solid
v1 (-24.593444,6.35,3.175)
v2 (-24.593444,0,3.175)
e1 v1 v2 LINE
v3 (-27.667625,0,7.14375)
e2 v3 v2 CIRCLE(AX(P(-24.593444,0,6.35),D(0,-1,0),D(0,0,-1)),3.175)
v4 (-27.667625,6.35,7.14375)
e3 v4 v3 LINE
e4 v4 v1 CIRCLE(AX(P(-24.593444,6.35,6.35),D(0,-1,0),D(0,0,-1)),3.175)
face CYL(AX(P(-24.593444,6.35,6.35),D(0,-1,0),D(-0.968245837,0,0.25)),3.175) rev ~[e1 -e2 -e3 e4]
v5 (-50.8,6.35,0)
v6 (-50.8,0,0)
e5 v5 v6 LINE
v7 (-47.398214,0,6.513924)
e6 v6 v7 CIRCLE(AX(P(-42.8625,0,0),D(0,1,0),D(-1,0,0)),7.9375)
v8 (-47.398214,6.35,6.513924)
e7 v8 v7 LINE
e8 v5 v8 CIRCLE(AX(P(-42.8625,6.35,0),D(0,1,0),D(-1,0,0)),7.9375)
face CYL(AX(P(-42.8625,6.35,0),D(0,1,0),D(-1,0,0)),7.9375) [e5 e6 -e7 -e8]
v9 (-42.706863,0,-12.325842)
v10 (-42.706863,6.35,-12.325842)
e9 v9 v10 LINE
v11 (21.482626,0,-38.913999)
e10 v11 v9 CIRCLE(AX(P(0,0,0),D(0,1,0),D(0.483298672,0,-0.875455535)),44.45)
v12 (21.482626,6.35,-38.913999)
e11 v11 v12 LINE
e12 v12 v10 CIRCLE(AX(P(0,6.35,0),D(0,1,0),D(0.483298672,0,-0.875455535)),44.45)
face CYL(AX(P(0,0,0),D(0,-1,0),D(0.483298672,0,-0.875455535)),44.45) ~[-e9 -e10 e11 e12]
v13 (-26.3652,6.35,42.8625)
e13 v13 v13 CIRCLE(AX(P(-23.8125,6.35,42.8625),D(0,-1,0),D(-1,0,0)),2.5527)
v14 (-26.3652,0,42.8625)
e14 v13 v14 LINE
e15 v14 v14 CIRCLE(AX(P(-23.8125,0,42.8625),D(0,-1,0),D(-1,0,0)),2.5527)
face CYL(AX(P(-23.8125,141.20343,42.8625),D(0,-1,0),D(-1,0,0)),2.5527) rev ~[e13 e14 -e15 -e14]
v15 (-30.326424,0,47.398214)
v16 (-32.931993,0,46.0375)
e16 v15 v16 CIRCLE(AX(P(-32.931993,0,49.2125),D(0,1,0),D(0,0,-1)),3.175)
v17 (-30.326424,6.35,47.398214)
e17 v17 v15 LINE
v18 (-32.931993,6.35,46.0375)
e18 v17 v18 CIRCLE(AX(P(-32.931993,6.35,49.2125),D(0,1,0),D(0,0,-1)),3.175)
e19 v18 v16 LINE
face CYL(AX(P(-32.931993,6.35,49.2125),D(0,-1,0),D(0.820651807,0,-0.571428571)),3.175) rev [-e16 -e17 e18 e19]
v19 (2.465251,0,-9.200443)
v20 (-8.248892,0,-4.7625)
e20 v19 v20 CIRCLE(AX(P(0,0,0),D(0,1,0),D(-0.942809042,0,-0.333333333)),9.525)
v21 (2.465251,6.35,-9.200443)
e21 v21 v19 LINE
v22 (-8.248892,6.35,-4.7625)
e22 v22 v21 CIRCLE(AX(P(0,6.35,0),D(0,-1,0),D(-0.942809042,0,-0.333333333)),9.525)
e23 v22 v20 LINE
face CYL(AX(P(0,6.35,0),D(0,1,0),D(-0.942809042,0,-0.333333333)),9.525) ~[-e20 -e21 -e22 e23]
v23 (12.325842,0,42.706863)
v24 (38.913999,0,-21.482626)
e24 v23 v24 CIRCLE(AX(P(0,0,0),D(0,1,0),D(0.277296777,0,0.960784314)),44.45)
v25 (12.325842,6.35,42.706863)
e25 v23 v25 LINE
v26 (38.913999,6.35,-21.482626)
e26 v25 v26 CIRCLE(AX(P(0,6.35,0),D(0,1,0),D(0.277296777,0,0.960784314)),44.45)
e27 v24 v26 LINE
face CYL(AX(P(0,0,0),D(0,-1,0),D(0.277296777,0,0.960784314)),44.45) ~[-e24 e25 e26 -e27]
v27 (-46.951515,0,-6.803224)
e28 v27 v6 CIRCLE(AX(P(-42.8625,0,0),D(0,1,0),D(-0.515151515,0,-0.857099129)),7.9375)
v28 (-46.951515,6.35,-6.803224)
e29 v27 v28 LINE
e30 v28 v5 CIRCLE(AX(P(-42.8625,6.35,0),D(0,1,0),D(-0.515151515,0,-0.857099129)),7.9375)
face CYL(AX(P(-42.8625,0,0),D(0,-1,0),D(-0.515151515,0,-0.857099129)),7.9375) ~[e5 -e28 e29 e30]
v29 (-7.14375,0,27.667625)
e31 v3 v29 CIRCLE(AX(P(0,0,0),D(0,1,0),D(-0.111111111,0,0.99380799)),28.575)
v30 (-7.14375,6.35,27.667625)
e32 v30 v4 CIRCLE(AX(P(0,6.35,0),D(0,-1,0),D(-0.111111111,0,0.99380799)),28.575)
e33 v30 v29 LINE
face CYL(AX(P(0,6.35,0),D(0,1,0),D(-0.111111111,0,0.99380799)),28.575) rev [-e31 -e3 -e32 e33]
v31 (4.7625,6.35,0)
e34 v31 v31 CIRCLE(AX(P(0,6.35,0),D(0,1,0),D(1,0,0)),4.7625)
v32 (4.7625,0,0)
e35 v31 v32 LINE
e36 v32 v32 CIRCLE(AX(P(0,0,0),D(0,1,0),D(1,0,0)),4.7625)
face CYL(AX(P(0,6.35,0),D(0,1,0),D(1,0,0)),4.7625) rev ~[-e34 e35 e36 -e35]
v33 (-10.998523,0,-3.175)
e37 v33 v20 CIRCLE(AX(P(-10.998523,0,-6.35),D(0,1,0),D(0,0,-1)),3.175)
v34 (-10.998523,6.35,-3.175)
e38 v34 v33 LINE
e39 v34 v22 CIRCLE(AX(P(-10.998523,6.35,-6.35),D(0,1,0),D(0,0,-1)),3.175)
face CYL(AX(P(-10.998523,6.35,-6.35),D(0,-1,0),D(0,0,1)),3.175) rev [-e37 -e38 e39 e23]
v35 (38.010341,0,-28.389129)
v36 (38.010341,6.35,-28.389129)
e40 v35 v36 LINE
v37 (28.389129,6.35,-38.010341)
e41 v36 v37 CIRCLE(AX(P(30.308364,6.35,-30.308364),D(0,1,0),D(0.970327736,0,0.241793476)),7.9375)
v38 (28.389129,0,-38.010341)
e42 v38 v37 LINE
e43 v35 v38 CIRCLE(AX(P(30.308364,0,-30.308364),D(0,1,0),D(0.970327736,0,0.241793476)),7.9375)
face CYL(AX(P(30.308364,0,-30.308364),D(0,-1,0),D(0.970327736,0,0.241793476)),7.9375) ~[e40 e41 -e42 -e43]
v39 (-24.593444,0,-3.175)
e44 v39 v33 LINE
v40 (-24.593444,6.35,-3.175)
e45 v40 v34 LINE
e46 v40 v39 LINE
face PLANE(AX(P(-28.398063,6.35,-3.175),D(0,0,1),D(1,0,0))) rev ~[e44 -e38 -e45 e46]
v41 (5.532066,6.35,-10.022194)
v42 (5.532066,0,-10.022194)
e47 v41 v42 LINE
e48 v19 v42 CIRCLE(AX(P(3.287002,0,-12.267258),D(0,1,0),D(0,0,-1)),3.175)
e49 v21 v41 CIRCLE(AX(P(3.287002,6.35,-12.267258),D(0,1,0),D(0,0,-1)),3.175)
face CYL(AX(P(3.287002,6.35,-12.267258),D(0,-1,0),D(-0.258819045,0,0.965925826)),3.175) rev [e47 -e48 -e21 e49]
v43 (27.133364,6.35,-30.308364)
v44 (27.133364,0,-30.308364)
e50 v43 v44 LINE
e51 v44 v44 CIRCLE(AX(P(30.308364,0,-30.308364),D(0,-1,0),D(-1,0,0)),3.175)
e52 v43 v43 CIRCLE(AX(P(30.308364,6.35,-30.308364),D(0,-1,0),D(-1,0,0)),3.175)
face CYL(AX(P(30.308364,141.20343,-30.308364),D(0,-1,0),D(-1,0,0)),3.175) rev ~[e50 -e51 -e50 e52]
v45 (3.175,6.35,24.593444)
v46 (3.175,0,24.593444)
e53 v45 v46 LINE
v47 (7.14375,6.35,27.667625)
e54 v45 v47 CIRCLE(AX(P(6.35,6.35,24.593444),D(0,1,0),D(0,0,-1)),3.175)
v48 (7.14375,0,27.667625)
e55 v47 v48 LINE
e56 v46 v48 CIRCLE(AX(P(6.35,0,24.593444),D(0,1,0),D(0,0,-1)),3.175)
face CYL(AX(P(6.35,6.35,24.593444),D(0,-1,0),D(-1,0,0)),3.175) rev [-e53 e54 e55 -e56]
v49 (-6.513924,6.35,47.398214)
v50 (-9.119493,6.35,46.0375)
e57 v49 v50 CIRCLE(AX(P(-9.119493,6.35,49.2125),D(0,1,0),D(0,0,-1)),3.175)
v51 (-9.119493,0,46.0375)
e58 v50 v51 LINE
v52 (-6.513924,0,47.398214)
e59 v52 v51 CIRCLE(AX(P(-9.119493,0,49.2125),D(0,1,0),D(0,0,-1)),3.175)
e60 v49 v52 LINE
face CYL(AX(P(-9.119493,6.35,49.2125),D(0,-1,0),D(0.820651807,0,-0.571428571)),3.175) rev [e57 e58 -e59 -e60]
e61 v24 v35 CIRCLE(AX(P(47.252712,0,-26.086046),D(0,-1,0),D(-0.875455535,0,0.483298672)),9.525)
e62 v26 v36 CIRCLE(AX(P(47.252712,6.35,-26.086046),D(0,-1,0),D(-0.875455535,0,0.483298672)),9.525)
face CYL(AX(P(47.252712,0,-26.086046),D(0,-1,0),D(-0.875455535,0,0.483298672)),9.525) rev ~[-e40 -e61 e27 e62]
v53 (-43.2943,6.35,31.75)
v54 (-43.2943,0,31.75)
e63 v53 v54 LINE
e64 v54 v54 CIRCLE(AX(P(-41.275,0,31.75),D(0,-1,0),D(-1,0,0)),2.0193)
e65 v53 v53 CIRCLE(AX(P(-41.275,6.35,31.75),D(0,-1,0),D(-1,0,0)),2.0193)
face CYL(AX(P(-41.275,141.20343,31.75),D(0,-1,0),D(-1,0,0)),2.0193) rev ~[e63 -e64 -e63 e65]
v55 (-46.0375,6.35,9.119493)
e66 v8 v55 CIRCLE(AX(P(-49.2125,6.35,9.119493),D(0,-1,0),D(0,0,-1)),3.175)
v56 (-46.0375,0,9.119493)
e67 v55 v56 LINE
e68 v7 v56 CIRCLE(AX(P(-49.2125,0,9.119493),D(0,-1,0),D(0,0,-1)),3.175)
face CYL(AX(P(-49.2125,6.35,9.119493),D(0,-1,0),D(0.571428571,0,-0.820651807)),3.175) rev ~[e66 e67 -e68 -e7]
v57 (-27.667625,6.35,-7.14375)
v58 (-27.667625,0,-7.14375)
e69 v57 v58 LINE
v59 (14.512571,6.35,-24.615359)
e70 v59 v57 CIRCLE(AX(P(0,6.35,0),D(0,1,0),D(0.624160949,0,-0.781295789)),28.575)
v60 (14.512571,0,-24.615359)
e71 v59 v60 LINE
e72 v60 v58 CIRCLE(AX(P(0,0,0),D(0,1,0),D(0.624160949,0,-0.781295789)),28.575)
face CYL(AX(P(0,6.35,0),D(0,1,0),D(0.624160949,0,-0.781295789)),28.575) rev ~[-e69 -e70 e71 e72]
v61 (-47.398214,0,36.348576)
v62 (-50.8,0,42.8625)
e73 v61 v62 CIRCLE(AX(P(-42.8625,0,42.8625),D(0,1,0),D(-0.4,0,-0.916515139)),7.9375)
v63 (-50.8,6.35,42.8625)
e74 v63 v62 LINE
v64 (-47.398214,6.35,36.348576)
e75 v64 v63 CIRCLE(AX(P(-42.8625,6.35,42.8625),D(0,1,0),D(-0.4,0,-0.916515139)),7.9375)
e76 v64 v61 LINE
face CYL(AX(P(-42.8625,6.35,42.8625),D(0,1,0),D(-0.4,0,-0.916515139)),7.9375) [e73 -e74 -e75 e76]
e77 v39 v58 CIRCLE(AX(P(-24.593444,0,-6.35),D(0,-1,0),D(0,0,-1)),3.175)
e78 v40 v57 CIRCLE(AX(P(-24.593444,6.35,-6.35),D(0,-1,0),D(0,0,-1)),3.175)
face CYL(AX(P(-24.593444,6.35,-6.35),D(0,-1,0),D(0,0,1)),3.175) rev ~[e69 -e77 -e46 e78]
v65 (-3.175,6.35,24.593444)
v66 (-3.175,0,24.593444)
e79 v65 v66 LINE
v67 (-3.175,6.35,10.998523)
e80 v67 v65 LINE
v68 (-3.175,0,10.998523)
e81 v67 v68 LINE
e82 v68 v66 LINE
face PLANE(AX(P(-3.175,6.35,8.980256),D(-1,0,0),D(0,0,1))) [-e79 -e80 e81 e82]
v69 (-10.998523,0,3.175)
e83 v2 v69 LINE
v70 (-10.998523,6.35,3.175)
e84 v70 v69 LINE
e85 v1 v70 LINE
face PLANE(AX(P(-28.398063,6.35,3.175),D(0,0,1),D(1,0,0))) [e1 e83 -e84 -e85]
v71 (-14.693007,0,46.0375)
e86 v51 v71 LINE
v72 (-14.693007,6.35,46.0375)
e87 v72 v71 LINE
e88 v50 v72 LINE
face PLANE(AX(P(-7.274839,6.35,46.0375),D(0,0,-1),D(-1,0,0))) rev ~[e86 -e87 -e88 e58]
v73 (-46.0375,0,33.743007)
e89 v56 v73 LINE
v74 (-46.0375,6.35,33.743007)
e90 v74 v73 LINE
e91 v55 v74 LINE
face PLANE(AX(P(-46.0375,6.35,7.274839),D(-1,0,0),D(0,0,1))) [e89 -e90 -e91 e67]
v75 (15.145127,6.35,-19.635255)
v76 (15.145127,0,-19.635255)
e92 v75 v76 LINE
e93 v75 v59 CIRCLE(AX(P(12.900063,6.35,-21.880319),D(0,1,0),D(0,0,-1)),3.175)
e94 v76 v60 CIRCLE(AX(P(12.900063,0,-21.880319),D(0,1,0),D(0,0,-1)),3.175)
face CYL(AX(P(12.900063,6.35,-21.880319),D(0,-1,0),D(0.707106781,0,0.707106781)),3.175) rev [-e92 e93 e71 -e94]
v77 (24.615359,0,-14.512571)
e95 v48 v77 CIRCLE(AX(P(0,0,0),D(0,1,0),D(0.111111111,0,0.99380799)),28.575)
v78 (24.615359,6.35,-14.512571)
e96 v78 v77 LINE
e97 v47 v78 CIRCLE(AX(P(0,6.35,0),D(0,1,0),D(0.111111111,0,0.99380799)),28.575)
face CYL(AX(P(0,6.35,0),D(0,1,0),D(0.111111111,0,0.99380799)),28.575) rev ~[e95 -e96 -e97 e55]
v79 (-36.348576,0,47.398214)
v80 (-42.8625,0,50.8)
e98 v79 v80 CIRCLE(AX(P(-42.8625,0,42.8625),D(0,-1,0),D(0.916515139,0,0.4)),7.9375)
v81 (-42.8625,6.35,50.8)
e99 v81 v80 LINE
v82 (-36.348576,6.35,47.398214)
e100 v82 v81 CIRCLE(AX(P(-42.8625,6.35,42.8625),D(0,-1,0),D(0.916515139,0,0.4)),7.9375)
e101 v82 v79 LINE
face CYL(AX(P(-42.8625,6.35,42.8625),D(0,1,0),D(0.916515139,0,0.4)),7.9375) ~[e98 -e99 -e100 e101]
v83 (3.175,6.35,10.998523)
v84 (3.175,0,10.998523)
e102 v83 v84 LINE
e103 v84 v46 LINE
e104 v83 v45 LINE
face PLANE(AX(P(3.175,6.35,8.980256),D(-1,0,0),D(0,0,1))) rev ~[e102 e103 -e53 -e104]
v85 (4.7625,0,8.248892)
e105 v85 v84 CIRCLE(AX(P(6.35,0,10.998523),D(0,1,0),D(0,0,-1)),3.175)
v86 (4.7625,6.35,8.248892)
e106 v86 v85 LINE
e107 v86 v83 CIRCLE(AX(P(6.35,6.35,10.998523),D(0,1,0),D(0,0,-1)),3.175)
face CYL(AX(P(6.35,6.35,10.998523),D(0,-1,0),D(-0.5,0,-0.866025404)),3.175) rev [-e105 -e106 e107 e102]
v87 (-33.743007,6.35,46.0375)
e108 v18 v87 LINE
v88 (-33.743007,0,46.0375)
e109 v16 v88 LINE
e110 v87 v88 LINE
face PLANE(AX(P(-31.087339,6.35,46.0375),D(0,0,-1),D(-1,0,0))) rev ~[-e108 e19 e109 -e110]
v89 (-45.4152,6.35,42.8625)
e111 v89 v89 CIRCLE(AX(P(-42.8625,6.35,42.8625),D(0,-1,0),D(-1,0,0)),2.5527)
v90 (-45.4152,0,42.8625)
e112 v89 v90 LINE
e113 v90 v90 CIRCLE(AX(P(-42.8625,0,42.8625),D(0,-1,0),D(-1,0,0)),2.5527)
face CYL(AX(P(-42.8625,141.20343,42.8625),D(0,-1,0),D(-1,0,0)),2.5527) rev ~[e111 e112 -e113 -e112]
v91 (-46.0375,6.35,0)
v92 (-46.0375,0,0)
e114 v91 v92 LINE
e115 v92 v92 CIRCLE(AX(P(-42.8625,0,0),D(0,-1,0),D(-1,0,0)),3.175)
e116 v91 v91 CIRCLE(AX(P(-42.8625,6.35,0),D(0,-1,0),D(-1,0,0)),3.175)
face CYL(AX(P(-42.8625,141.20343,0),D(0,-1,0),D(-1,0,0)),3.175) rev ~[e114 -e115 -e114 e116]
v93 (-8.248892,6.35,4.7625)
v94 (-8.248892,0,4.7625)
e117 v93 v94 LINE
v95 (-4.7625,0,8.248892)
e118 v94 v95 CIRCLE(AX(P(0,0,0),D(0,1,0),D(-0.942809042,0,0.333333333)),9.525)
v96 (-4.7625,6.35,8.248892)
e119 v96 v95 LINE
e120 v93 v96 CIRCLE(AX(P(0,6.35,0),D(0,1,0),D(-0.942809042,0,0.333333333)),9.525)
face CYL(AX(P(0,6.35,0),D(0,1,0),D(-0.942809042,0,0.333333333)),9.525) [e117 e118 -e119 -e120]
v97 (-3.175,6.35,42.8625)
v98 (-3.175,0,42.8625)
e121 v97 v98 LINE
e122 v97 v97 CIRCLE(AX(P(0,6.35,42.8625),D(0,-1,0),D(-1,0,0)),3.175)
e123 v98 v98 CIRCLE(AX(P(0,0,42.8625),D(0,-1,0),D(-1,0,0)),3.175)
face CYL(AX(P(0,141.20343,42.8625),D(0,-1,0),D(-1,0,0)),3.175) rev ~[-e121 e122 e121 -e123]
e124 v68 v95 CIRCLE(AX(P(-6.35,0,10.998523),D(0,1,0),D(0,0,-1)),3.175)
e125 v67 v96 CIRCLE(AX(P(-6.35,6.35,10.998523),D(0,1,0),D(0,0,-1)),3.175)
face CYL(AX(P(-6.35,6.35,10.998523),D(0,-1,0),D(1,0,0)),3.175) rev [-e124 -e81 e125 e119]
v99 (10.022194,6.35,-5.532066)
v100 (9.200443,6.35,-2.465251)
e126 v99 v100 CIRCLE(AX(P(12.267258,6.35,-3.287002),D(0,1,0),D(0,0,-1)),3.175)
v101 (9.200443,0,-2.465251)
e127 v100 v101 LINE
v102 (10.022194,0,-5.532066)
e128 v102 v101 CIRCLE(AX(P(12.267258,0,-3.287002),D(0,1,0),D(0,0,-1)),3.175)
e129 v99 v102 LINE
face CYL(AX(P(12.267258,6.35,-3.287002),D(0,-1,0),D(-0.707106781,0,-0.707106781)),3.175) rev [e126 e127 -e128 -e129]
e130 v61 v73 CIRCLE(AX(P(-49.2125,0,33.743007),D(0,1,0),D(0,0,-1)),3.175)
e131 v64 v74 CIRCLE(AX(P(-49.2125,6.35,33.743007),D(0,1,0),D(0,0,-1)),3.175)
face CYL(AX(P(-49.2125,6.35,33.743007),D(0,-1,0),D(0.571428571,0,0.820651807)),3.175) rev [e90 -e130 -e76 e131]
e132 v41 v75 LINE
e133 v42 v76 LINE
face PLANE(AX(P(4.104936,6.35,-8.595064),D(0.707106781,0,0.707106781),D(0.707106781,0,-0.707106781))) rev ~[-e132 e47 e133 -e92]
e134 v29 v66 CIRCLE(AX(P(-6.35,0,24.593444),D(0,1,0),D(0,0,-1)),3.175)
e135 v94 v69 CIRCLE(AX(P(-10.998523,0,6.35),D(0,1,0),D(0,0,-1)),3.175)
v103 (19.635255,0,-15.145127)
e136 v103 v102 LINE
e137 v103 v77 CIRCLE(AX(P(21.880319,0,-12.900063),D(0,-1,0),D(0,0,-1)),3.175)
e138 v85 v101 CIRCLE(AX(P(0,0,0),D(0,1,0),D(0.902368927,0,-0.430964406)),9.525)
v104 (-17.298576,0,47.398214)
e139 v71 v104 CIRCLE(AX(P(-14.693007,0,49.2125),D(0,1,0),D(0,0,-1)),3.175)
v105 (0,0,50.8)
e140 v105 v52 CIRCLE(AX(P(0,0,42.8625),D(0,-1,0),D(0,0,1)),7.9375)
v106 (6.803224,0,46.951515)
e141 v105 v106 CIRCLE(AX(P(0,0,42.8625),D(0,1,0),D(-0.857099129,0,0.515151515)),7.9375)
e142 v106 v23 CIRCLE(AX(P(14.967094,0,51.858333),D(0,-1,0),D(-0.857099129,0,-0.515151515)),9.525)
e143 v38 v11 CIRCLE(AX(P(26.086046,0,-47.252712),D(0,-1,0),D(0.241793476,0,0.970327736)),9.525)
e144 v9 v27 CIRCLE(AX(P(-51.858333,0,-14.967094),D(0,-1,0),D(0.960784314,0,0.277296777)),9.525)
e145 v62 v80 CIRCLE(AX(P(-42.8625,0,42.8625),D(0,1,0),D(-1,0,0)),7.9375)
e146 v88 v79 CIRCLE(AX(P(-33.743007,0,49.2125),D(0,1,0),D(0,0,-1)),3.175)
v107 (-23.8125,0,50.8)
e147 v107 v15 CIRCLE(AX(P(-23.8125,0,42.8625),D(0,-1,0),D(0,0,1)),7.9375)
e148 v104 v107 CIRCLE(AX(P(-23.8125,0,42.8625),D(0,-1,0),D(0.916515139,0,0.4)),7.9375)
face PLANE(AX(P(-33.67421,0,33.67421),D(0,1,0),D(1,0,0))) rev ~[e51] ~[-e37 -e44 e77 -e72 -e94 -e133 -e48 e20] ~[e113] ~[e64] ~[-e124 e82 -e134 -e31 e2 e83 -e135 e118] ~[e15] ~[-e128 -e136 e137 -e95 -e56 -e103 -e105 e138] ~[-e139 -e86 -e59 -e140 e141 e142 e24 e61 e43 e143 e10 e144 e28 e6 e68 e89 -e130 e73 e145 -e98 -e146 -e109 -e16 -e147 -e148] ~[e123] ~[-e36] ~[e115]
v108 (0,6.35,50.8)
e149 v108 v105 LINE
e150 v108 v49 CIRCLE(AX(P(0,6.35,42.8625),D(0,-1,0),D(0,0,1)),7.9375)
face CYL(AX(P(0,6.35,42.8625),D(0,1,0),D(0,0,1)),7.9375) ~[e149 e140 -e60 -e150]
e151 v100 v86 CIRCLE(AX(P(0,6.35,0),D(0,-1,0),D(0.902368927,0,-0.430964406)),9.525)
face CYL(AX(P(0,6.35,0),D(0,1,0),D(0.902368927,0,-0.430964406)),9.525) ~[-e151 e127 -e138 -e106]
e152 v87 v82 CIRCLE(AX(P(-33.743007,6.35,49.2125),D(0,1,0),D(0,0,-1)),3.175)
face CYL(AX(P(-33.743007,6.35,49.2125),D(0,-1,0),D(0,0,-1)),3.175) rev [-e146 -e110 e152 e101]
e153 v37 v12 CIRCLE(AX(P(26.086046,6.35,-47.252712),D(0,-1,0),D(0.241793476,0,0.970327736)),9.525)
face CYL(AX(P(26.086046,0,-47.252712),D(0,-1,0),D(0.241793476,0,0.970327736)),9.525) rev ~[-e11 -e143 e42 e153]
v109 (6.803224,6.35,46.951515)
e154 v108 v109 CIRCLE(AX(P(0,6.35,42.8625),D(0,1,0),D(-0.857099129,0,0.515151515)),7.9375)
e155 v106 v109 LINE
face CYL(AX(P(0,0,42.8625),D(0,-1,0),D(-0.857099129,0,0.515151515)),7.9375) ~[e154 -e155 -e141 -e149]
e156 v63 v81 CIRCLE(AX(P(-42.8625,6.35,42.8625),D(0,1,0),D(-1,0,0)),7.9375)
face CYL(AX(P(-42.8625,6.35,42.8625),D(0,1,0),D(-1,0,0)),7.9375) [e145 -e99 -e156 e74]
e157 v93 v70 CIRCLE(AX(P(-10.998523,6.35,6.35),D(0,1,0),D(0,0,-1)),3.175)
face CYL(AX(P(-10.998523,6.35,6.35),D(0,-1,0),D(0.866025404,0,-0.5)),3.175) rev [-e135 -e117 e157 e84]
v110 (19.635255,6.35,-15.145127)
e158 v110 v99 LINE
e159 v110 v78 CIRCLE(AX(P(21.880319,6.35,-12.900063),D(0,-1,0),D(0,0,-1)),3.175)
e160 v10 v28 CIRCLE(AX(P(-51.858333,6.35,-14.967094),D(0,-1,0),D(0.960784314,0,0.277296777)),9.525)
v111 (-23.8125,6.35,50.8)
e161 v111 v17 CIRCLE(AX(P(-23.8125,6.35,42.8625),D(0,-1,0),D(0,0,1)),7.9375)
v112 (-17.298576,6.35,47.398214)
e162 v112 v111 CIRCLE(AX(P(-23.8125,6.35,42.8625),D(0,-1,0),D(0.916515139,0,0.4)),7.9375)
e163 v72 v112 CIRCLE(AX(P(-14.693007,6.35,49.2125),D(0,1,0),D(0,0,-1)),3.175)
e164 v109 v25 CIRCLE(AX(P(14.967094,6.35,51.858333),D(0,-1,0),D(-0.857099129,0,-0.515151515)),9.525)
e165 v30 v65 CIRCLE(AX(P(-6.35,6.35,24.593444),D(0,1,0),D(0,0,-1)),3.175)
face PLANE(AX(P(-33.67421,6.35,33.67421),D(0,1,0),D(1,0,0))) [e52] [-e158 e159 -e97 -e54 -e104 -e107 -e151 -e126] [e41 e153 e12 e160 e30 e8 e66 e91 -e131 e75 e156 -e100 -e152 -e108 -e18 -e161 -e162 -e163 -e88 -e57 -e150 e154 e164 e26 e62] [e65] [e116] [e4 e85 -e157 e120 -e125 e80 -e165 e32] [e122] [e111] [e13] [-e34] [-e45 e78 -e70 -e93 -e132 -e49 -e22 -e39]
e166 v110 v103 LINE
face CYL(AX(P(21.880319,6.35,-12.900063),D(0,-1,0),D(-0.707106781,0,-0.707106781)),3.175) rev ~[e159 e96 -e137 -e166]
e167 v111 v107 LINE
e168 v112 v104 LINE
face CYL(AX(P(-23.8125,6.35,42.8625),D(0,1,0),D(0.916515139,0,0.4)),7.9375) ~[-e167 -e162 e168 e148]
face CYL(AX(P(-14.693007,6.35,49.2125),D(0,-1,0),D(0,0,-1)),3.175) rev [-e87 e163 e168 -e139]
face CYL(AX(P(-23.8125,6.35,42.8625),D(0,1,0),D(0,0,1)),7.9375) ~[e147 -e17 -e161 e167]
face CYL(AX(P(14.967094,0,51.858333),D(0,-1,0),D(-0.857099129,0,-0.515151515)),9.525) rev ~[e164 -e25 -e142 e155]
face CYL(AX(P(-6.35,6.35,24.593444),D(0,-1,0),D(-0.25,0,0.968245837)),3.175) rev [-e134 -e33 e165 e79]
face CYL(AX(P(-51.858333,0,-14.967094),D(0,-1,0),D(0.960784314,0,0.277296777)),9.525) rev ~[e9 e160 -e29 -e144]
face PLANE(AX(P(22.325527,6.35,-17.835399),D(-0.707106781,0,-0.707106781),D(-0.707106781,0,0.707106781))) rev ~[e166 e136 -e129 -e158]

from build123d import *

# Parameters (mm, degrees)
BOSS_EXTRUDE1_DEPTH         = 6.35
SKETCH2_R                   = 4.7625
CUT_EXTRUDE1_DEPTH          = 7.35
F_1_4_0_25_DIAMETER_HOLE1_D = 6.35
CUT_EXTRUDE2_DEPTH          = 7.35
FILLET1_R                   = 3.175
BOSS_EXTRUDE2_DEPTH         = 6.35
F_10_CLEARANCE_HOLE1_D      = 5.1054
CUT_EXTRUDE5_DEPTH          = 6.35
FILLET3_R                   = 3.175
F_10_32_TAPPED_HOLE1_D      = 4.0386


with BuildPart() as part:
    # Sketch1 → Boss-Extrude1 (new body)
    with BuildSketch(Plane(origin=(0, 0, 0), x_dir=(1, 0, 0), z_dir=(0, 1, 0))):
        with BuildLine():
            ThreePointArc((-42.706862745, -12.325841735), (-31.430896424, -31.430896424), (-12.325841735, -42.706862745))
            ThreePointArc((-12.325841735, -42.706862745), (-9.162618669, -44.306267621), (-6.803224334, -46.951515152))
            ThreePointArc((-6.803224334, -46.951515152), (0, -50.8), (6.803224334, -46.951515152))
            ThreePointArc((6.803224334, -46.951515152), (9.162618669, -44.306267621), (12.325841735, -42.706862745))
            ThreePointArc((12.325841735, -42.706862745), (41.06644522, -17.010278569), (38.913998525, 21.482625976))
            ThreePointArc((38.913998525, 21.482625976), (37.808212078, 24.85031249), (38.010340811, 28.38912869))
            ThreePointArc((38.010340811, 28.38912869), (35.921024484, 35.921024484), (28.38912869, 38.010340811))
            ThreePointArc((28.38912869, 38.010340811), (24.85031249, 37.808212078), (21.482625976, 38.913998525))
            ThreePointArc((21.482625976, 38.913998525), (-17.010278569, 41.06644522), (-42.706862745, 12.325841735))
            ThreePointArc((-42.706862745, 12.325841735), (-44.306267621, 9.162618669), (-46.951515152, 6.803224334))
            ThreePointArc((-46.951515152, 6.803224334), (-50.8, 0), (-46.951515152, -6.803224334))
            ThreePointArc((-46.951515152, -6.803224334), (-44.306267621, -9.162618669), (-42.706862745, -12.325841735))
        make_face()
    extrude(amount=BOSS_EXTRUDE1_DEPTH)

    # Sketch2 → Cut-Extrude1 (cut, through all)
    with BuildSketch(Plane(origin=(0, 6.35, 0), x_dir=(1, 0, 0), z_dir=(0, 1, 0))):
        Circle(SKETCH2_R)
    extrude(amount=-CUT_EXTRUDE1_DEPTH, mode=Mode.SUBTRACT)

    # 1/4 (0.25) Diameter Hole1 (through all)
    with Locations(Plane(origin=(0, 6.35, 0), x_dir=(1, 0, 0), z_dir=(0, 1, 0))):
        with Locations((-42.8625, 0), (30.308364409, 30.308364409), (0, -42.8625)):
            Hole(F_1_4_0_25_DIAMETER_HOLE1_D / 2)

    # Sketch5 → Cut-Extrude2 (cut, through all)
    with BuildSketch(Plane(origin=(0, 6.35, 0), x_dir=(1, 0, 0), z_dir=(0, 1, 0))):
        with BuildLine():
            Line((-28.398063314, 3.175), (-8.980256121, 3.175))
            ThreePointArc((-8.980256121, 3.175), (-3.645059693, 8.799952547), (4.10493597, 8.59506403))
            Line((4.10493597, 8.59506403), (17.835399112, 22.325527172))
            ThreePointArc((17.835399112, 22.325527172), (-10.93517908, 26.399857642), (-28.398063314, 3.175))
        make_face()
        with BuildLine():
            Line((-28.398063314, -3.175), (-8.980256121, -3.175))
            ThreePointArc((-8.980256121, -3.175), (-6.735192091, -6.735192091), (-3.175, -8.980256121))
            Line((-3.175, -8.980256121), (-3.175, -28.398063314))
            ThreePointArc((-3.175, -28.398063314), (-20.205576272, -20.205576272), (-28.398063314, -3.175))
        make_face()
        with BuildLine():
            Line((22.325527172, 17.835399112), (8.59506403, 4.10493597))
            ThreePointArc((8.59506403, 4.10493597), (8.799952547, -3.645059693), (3.175, -8.980256121))
            Line((3.175, -8.980256121), (3.175, -28.398063314))
            ThreePointArc((3.175, -28.398063314), (26.399857642, -10.93517908), (22.325527172, 17.835399112))
        make_face()
    extrude(amount=-CUT_EXTRUDE2_DEPTH, mode=Mode.SUBTRACT)

    # Fillet1
    fillet1_edges = [part.edges().sort_by_distance(p)[0] for p in [
        (22.325527172, 3.175, -17.835399112),
        (3.175, 3.175, 28.398063314),
        (3.175, 3.175, 8.980256121),
        (8.59506403, 3.175, -4.10493597),
        (-3.175, 3.175, 28.398063314),
        (-28.398063314, 3.175, 3.175),
        (-8.980256121, 3.175, 3.175),
        (-3.175, 3.175, 8.980256121),
        (-28.398063314, 3.175, -3.175),
        (17.835399112, 3.175, -22.325527172),
        (4.10493597, 3.175, -8.59506403),
        (-8.980256121, 3.175, -3.175),
    ]]
    fillet(fillet1_edges, radius=FILLET1_R)

    # Sketch8 → Boss-Extrude2 (add)
    with BuildSketch(Plane(origin=(0, 6.35, 0), x_dir=(1, 0, 0), z_dir=(0, 1, 0))):
        with BuildLine():
            Line((-50.8, 0), (-50.8, -42.8625))
            ThreePointArc((-50.8, -42.8625), (-48.475160076, -48.475160076), (-42.8625, -50.8))
            Line((-42.8625, -50.8), (0, -50.8))
            ThreePointArc((0, -50.8), (-3.908154839, -49.771206971), (-6.803224334, -46.951515152))
            ThreePointArc((-6.803224334, -46.951515152), (-9.162618669, -44.306267621), (-12.325841735, -42.706862745))
            ThreePointArc((-12.325841735, -42.706862745), (-31.430896424, -31.430896424), (-42.706862745, -12.325841735))
            ThreePointArc((-42.706862745, -12.325841735), (-44.306267621, -9.162618669), (-46.951515152, -6.803224334))
            ThreePointArc((-46.951515152, -6.803224334), (-49.771206971, -3.908154839), (-50.8, 0))
        make_face()
    extrude(amount=-BOSS_EXTRUDE2_DEPTH)

    # #10 Clearance Hole1 (through all)
    with Locations(Plane(origin=(0, 6.35, 0), x_dir=(1, 0, 0), z_dir=(0, 1, 0))):
        with Locations((-42.8625, -42.8625), (-23.8125, -42.8625)):
            Hole(F_10_CLEARANCE_HOLE1_D / 2)

    # Sketch15 → Cut-Extrude5 (cut)
    with BuildSketch(Plane(origin=(0, 6.35, 0), x_dir=(1, 0, 0), z_dir=(0, 1, 0))):
        with BuildLine():
            ThreePointArc((-46.0375, -35.587661084), (-49.503488961, -38.5149522), (-50.8, -42.8625))
            Line((-50.8, -42.8625), (-50.8, 0))
            ThreePointArc((-50.8, 0), (-49.503488961, -4.3475478), (-46.0375, -7.274838916))
            Line((-46.0375, -7.274838916), (-46.0375, -35.587661084))
        make_face()
        with BuildLine():
            Line((-31.087338916, -46.0375), (-35.587661084, -46.0375))
            ThreePointArc((-35.587661084, -46.0375), (-38.5149522, -49.503488961), (-42.8625, -50.8))
            Line((-42.8625, -50.8), (-23.8125, -50.8))
            ThreePointArc((-23.8125, -50.8), (-28.1600478, -49.503488961), (-31.087338916, -46.0375))
        make_face()
        with BuildLine():
            ThreePointArc((-16.537661084, -46.0375), (-19.4649522, -49.503488961), (-23.8125, -50.8))
            Line((-23.8125, -50.8), (0, -50.8))
            ThreePointArc((0, -50.8), (-4.3475478, -49.503488961), (-7.274838916, -46.0375))
            Line((-7.274838916, -46.0375), (-16.537661084, -46.0375))
        make_face()
    extrude(amount=-CUT_EXTRUDE5_DEPTH, mode=Mode.SUBTRACT)

    # Fillet3
    fillet3_edges = [part.edges().sort_by_distance(p)[0] for p in [
        (-46.0375, 3.175, 35.587661084),
        (-46.0375, 3.175, 7.274838916),
        (-35.587661084, 3.175, 46.0375),
        (-31.087338916, 3.175, 46.0375),
        (-16.537661084, 3.175, 46.0375),
        (-7.274838916, 3.175, 46.0375),
    ]]
    fillet(fillet3_edges, radius=FILLET3_R)

    # #10-32 Tapped Hole1 (through all)
    with Locations(Plane(origin=(0, 6.35, 0), x_dir=(1, 0, 0), z_dir=(0, 1, 0))):
        with Locations((-41.275, -31.75)):
            Hole(F_10_32_TAPPED_HOLE1_D / 2)


solid = part.part
